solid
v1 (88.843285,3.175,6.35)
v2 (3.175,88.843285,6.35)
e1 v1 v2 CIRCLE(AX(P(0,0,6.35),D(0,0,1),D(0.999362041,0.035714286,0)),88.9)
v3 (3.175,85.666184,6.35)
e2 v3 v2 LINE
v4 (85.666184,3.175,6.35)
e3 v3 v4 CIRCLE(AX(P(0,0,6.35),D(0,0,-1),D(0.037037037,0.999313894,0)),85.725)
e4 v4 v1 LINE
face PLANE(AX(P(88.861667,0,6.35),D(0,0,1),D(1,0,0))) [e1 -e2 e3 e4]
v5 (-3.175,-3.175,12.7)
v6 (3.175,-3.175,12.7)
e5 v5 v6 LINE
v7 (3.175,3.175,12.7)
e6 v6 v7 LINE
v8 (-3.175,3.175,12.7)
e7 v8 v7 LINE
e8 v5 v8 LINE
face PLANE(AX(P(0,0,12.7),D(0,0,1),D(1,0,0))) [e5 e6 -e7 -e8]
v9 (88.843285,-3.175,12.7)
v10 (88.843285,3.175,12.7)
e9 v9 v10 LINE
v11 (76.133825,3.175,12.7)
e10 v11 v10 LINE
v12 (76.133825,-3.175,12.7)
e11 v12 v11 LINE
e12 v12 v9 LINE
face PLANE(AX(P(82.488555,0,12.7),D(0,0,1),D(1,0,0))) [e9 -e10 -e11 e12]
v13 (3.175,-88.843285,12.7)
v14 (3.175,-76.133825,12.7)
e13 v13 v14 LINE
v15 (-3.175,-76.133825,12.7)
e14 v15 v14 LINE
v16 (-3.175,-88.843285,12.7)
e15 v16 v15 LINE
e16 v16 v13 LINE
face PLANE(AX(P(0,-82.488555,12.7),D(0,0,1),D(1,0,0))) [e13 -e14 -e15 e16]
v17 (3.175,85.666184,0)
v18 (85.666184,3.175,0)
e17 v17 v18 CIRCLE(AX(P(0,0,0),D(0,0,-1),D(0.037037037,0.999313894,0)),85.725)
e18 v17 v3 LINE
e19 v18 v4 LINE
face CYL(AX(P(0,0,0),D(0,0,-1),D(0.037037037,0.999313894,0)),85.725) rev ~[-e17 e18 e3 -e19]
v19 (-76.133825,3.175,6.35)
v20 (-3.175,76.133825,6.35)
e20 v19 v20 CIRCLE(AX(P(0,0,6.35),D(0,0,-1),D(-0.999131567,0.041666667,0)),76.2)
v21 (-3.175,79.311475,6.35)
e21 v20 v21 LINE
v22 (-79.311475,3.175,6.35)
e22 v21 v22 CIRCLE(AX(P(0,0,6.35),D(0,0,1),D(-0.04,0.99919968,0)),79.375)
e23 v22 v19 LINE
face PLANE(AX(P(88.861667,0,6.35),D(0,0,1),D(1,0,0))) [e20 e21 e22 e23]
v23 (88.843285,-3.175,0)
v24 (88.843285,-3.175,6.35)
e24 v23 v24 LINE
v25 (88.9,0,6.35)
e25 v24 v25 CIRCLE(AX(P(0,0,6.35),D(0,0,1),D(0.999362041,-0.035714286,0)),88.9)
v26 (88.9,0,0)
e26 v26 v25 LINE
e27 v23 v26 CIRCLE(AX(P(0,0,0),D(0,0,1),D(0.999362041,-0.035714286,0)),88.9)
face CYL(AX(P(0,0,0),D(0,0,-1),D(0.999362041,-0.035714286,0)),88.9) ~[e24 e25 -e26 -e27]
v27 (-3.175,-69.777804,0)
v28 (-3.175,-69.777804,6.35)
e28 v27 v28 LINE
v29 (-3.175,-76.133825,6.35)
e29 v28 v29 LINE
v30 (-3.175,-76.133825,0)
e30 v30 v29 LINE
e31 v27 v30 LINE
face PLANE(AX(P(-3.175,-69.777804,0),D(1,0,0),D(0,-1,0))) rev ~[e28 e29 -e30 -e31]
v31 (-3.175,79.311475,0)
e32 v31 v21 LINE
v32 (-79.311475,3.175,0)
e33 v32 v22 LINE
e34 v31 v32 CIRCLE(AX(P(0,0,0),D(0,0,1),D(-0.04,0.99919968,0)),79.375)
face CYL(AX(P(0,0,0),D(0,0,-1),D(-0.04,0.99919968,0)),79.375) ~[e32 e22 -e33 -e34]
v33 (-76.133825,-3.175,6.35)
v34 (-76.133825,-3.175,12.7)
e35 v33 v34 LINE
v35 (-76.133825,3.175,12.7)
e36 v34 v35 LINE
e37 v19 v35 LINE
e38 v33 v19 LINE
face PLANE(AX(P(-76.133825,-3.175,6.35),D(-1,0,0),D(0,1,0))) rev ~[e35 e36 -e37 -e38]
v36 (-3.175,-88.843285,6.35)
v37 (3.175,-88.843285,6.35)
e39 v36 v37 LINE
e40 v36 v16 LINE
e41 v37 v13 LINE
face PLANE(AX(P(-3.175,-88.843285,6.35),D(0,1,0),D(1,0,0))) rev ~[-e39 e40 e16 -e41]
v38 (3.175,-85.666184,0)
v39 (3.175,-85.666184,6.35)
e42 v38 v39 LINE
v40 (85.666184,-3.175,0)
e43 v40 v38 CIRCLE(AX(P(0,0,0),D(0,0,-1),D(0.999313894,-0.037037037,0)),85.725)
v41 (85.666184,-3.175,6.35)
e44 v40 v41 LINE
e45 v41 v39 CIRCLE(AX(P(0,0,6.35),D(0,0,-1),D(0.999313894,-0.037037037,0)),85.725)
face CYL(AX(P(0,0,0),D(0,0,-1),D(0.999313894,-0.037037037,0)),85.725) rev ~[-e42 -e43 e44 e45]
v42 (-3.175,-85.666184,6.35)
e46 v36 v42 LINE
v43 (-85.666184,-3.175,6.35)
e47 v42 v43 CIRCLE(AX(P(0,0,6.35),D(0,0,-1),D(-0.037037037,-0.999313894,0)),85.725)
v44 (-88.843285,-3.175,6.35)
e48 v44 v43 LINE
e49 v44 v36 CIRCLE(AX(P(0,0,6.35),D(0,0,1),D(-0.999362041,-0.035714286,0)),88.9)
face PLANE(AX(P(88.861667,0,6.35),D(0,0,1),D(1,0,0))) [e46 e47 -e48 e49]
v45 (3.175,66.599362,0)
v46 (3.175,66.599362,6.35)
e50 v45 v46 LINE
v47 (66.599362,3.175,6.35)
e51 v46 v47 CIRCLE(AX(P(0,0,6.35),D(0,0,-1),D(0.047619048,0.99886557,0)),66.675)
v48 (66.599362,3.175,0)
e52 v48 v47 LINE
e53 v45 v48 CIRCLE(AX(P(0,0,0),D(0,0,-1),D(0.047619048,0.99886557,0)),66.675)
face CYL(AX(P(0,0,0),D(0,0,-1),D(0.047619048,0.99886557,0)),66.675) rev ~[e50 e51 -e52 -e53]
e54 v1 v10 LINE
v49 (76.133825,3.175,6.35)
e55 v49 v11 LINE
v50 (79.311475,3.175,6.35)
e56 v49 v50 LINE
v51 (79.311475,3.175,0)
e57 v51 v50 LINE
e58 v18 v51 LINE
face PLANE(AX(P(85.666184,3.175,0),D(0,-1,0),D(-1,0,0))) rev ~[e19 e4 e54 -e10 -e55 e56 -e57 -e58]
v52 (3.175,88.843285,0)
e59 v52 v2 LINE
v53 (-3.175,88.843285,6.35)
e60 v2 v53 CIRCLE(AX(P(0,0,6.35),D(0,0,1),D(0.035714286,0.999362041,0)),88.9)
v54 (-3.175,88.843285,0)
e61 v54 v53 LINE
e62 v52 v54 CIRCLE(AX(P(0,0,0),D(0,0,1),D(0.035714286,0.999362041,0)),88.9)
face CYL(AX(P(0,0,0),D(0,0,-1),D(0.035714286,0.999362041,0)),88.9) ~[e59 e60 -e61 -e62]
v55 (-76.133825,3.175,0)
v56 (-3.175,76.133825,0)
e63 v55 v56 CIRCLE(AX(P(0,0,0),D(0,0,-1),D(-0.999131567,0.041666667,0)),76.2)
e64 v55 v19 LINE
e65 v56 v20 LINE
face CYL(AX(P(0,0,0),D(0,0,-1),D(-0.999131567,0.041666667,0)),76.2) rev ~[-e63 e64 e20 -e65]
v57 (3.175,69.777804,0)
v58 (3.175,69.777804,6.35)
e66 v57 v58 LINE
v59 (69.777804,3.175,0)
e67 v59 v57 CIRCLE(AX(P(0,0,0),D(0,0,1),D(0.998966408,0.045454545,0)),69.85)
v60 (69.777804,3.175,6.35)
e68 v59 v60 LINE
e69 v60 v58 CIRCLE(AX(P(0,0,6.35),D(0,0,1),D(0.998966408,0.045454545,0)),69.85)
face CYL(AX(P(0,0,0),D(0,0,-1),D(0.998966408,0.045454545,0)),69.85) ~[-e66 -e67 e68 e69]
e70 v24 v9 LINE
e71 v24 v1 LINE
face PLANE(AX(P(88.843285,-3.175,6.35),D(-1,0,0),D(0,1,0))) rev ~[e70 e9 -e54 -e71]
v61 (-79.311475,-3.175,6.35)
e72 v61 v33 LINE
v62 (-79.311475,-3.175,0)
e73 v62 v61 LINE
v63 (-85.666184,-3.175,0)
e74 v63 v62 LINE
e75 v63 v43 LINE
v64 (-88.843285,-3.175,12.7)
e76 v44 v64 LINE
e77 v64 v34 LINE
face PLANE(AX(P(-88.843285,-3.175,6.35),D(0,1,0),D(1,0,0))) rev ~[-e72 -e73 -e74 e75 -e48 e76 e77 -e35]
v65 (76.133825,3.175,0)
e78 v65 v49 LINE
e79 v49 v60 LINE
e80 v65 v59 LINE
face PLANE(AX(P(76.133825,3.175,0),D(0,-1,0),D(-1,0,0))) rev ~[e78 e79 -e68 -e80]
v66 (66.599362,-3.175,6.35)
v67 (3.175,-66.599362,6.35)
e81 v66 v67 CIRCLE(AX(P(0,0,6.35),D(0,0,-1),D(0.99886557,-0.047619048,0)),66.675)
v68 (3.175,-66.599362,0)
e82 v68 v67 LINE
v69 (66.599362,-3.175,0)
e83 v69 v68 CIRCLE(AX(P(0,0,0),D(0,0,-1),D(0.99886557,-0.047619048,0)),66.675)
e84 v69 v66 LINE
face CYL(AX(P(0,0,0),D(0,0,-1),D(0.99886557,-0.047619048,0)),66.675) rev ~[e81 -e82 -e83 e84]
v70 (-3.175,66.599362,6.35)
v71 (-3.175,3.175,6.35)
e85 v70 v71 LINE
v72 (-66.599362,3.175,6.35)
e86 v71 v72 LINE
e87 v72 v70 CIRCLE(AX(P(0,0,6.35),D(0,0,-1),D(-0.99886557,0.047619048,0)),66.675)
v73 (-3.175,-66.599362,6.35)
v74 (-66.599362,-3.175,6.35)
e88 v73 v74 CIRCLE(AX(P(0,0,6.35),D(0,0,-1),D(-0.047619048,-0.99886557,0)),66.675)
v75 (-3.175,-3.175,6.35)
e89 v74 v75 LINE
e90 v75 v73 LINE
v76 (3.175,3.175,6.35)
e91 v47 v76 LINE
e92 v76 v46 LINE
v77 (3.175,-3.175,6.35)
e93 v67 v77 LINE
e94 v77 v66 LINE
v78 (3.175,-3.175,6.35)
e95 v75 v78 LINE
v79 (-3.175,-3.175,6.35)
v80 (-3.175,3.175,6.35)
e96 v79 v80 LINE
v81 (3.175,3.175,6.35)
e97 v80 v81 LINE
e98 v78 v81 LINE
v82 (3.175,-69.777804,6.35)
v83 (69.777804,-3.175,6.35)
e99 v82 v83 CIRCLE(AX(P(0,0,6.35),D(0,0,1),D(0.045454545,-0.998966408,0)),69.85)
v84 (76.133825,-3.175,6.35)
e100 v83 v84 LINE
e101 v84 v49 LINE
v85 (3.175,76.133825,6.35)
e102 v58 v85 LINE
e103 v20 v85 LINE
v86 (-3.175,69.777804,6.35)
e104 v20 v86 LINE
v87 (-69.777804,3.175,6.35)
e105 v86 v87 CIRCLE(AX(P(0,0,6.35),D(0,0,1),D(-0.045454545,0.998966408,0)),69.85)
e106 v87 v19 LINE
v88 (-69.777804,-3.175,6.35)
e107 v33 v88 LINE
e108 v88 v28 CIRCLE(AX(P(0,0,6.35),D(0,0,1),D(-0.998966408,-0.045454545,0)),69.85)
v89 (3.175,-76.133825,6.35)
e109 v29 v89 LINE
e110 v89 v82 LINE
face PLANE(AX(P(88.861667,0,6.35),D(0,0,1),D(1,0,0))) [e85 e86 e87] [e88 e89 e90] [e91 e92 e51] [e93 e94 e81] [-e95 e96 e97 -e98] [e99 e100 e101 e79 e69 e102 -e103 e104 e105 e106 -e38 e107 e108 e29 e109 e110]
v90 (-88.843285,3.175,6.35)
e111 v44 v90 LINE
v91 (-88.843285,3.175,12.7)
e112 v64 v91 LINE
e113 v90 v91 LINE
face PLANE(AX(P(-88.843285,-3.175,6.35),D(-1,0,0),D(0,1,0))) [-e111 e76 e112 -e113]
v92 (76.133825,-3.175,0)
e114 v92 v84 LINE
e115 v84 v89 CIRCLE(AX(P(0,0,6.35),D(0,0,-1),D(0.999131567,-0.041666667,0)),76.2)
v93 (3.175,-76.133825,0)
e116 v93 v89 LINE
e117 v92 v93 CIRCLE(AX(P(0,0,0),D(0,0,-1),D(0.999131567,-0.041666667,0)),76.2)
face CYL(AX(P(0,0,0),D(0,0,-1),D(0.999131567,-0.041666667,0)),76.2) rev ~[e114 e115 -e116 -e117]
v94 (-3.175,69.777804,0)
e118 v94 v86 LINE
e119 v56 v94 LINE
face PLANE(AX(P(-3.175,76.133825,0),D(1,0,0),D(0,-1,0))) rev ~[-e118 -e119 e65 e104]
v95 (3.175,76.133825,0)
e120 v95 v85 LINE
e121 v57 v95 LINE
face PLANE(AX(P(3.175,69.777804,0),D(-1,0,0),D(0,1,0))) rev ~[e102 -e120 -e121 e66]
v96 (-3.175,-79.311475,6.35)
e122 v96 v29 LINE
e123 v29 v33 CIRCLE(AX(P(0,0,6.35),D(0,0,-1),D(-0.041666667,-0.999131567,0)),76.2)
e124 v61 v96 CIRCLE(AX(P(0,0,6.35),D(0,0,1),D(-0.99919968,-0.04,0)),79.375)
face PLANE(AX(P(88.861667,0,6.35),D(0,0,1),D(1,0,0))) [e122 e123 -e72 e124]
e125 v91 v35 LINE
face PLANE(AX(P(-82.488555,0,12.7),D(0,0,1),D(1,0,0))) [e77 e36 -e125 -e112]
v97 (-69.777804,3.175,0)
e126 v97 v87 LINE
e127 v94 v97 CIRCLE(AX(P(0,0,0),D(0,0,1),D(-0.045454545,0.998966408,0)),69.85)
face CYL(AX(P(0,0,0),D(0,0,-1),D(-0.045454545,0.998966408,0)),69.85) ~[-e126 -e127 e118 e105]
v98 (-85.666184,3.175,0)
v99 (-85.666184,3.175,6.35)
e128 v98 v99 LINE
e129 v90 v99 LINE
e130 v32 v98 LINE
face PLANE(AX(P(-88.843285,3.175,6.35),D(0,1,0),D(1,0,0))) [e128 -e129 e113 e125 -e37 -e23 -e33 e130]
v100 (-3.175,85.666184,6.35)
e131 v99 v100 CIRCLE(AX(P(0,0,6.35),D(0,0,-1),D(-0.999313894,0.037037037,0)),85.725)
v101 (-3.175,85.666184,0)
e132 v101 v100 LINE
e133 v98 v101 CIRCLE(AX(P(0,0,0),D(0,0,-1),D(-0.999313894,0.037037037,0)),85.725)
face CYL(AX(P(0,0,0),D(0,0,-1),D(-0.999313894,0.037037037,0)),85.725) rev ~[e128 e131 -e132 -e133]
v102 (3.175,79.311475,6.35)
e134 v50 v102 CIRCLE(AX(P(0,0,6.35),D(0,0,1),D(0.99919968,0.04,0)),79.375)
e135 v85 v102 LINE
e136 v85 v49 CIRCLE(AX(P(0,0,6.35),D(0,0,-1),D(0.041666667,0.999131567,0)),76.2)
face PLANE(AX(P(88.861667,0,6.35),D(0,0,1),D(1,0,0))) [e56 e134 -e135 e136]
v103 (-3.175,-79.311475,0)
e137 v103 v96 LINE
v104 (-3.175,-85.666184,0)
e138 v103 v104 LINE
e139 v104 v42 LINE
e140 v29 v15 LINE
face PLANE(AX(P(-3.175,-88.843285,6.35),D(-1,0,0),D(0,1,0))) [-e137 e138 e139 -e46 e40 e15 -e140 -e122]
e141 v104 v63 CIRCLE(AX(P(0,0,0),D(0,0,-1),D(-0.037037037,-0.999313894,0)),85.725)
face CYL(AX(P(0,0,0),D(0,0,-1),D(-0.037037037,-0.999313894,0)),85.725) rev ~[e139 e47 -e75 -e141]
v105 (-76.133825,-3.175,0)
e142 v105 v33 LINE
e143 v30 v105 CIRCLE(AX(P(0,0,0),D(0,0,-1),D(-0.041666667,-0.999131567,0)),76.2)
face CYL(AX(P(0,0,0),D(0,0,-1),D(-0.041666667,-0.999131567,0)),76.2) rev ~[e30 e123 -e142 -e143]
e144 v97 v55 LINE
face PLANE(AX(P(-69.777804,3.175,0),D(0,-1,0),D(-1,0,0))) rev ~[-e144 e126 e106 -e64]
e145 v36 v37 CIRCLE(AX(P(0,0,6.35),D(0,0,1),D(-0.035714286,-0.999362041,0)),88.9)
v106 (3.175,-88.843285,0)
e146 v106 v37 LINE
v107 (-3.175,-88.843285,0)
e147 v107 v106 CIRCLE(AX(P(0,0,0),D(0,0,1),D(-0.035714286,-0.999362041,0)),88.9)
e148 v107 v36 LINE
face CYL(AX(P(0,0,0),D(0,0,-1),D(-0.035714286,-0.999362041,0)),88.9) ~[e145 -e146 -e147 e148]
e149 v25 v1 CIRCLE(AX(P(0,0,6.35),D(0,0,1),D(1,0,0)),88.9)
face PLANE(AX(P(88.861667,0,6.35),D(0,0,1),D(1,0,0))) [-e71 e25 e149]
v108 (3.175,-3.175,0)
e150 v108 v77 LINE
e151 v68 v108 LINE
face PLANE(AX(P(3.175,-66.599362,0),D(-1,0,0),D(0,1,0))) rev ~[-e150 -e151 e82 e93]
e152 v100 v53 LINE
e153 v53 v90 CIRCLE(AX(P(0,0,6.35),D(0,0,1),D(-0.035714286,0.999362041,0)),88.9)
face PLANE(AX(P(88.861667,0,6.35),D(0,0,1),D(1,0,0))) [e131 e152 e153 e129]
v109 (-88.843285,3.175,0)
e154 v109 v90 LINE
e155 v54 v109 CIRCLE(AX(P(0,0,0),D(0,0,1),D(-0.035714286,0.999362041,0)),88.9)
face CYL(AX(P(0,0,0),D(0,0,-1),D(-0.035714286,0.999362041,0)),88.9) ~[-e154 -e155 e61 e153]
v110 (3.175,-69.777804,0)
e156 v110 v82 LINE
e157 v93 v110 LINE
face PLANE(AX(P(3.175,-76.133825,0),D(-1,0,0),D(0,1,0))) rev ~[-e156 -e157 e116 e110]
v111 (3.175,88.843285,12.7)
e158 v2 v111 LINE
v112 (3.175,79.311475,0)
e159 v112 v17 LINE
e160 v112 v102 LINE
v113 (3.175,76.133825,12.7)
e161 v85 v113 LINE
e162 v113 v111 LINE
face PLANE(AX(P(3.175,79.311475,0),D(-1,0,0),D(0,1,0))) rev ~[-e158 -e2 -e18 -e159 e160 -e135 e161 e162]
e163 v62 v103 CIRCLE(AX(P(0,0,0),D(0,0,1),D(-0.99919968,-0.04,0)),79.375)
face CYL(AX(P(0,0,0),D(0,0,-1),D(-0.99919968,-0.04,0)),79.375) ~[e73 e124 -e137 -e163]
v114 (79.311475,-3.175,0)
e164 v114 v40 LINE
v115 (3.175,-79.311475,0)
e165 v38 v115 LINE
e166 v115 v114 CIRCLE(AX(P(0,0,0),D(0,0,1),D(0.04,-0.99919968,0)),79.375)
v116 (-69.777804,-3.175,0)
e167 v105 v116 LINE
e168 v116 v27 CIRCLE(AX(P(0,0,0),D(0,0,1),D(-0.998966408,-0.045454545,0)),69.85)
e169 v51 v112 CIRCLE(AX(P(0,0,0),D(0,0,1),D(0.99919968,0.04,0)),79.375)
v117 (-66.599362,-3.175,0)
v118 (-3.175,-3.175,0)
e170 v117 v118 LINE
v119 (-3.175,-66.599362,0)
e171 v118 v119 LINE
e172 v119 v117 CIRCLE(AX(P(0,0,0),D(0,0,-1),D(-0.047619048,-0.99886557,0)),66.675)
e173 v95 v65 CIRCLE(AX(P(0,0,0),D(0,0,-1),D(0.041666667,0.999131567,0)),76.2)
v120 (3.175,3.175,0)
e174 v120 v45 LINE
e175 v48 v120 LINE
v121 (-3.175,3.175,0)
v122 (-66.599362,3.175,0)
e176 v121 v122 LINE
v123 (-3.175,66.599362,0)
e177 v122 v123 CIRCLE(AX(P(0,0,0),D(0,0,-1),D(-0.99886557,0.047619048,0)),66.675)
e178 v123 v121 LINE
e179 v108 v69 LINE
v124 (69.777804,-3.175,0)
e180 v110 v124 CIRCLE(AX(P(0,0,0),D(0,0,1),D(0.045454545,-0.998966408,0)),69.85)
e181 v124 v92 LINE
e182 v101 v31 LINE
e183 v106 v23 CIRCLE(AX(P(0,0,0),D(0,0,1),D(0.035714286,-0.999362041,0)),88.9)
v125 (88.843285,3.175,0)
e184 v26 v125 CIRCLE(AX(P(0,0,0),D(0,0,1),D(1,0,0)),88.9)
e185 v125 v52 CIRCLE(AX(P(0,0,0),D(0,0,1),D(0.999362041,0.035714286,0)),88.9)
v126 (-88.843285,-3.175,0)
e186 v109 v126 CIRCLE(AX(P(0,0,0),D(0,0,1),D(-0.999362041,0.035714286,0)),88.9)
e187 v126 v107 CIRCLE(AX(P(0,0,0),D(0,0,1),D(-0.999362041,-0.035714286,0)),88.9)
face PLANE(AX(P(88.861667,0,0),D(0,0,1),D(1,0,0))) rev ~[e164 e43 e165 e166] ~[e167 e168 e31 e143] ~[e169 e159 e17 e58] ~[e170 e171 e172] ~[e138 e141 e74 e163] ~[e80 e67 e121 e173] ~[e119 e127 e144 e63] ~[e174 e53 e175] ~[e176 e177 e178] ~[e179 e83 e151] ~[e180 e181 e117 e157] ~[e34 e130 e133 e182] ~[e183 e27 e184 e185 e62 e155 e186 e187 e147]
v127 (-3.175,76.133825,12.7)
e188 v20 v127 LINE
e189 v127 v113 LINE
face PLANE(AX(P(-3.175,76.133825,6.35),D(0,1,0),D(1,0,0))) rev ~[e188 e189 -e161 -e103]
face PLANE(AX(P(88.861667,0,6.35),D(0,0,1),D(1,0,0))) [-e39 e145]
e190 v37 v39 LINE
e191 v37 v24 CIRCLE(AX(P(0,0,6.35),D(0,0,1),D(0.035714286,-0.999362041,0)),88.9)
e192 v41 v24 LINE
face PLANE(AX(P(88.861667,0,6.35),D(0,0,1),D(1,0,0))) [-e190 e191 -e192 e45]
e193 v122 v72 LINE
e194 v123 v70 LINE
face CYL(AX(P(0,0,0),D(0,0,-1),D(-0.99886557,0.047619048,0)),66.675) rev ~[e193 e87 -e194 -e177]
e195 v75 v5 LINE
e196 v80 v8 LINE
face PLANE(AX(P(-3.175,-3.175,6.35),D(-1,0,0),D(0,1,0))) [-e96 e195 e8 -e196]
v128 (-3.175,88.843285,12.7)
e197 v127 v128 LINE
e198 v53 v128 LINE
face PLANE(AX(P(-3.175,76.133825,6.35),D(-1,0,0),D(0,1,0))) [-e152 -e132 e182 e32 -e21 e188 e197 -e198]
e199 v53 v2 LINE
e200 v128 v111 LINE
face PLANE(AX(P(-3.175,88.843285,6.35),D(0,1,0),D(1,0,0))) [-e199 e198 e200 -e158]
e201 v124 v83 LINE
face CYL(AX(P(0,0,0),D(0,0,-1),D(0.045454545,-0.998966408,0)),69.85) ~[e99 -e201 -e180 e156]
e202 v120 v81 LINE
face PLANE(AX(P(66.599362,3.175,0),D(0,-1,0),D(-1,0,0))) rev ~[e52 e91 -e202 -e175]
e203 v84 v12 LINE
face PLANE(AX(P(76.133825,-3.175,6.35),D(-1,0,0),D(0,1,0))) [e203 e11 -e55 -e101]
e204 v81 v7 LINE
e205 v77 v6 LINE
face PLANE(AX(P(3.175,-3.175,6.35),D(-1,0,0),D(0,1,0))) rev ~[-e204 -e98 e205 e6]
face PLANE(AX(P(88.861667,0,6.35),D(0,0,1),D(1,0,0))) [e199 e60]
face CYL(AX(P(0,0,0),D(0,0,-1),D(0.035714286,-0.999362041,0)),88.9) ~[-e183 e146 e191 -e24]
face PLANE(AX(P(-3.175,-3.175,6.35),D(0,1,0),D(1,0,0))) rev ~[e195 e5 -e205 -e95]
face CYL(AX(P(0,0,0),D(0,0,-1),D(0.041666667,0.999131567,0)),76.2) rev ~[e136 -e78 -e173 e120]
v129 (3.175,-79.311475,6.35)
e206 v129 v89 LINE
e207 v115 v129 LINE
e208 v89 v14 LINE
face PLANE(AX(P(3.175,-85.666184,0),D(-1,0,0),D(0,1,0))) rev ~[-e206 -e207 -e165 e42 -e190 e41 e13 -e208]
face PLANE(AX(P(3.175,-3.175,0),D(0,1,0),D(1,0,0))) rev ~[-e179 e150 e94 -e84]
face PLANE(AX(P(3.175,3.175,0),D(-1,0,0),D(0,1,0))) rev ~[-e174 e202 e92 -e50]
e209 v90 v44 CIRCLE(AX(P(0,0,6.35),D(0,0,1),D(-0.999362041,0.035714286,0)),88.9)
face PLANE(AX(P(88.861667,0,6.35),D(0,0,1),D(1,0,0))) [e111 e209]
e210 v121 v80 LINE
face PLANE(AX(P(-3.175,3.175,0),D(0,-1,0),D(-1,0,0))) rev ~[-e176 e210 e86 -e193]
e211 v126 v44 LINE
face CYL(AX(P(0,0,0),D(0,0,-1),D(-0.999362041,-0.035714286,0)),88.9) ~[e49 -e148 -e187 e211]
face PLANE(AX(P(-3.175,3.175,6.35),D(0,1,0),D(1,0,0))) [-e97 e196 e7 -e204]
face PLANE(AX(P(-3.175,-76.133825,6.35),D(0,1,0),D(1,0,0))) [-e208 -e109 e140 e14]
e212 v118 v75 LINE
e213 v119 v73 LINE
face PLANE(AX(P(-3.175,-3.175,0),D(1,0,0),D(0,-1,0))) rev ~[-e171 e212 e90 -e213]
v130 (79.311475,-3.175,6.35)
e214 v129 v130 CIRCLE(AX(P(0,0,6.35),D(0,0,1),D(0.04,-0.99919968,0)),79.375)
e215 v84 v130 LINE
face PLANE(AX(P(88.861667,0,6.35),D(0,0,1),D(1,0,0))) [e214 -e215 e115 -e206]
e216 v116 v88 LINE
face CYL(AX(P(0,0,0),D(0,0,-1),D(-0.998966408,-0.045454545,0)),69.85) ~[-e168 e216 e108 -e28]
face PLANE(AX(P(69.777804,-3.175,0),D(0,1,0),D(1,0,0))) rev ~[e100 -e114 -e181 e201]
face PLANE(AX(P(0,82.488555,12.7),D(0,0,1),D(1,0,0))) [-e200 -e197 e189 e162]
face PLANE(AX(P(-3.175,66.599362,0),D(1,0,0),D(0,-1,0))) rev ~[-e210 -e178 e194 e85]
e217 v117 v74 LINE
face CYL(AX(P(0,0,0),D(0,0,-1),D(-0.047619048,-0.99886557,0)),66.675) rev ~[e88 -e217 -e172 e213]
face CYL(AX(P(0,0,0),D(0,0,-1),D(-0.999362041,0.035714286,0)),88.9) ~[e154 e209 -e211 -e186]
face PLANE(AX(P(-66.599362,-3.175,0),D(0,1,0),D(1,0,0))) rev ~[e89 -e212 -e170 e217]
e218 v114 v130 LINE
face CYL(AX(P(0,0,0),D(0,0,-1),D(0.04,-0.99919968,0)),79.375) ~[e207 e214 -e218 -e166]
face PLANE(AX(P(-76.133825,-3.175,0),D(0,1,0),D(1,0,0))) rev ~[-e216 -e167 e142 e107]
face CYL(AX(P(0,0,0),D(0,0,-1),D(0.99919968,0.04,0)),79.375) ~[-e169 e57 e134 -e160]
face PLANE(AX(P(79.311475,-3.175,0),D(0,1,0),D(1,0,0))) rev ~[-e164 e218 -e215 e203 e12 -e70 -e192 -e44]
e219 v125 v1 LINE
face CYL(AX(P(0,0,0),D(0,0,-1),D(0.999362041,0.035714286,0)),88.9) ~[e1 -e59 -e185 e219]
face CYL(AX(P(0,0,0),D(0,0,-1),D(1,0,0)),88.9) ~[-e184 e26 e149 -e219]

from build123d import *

# Parameters (mm, degrees)
F0_W     = 6.35
F0_H     = 6.35
F1_DEPTH = 6.35
F2_W     = 12.7094600481
F2_H     = 6.35
F2_W_2   = 6.35
F2_H_2   = 12.7094600481
F3_DEPTH = 6.35


with BuildPart() as f1:
    # F0 (on Top) → F1 (new body)
    with BuildSketch(Plane.XY):
        with BuildLine():
            ThreePointArc((88.8432854807, -3.175), (88.8858202393, -1.5877532504), (88.9, 0))
            ThreePointArc((88.9, 0), (88.8858202393, 1.5877532504), (88.8432854807, 3.175))
            Line((88.8432854807, 3.175), (88.8432854807, -3.175))
        make_face()
        with BuildLine():
            Line((85.6661835265, 3.175), (88.8432854807, 3.175))
            ThreePointArc((88.8432854807, 3.175), (62.8617928475, 62.8617928475), (3.175, 88.8432854807))
            Line((3.175, 88.8432854807), (3.175, 85.6661835265))
            ThreePointArc((3.175, 85.6661835265), (60.6167288172, 60.6167288172), (85.6661835265, 3.175))
        make_face()
        with BuildLine():
            Line((88.8432854807, -3.175), (88.8432854807, 3.175))
            Line((88.8432854807, 3.175), (85.6661835265, 3.175))
            ThreePointArc((85.6661835265, 3.175), (85.7102946203, 1.5877723686), (85.725, 0))
            ThreePointArc((85.725, 0), (85.7102946203, -1.5877723686), (85.6661835265, -3.175))
            Line((85.6661835265, -3.175), (88.8432854807, -3.175))
        make_face()
        with BuildLine():
            ThreePointArc((3.175, -88.8432854807), (62.8617928475, -62.8617928475), (88.8432854807, -3.175))
            Line((88.8432854807, -3.175), (85.6661835265, -3.175))
            ThreePointArc((85.6661835265, -3.175), (60.6167288172, -60.6167288172), (3.175, -85.6661835265))
            Line((3.175, -85.6661835265), (3.175, -88.8432854807))
        make_face()
        with BuildLine():
            Line((-3.175, 88.8432854807), (3.175, 88.8432854807))
            ThreePointArc((3.175, 88.8432854807), (0, 88.9), (-3.175, 88.8432854807))
        make_face()
        with BuildLine():
            Line((3.175, 85.6661835265), (3.175, 88.8432854807))
            Line((3.175, 88.8432854807), (-3.175, 88.8432854807))
            Line((-3.175, 88.8432854807), (-3.175, 85.6661835265))
            ThreePointArc((-3.175, 85.6661835265), (0, 85.725), (3.175, 85.6661835265))
        make_face()
        with BuildLine():
            ThreePointArc((-3.175, -88.8432854807), (0, -88.9), (3.175, -88.8432854807))
            Line((3.175, -88.8432854807), (-3.175, -88.8432854807))
        make_face()
        with BuildLine():
            Line((-3.175, -88.8432854807), (3.175, -88.8432854807))
            Line((3.175, -88.8432854807), (3.175, -85.6661835265))
            ThreePointArc((3.175, -85.6661835265), (0, -85.725), (-3.175, -85.6661835265))
            Line((-3.175, -85.6661835265), (-3.175, -88.8432854807))
        make_face()
        with BuildLine():
            Line((-3.175, 85.6661835265), (-3.175, 88.8432854807))
            ThreePointArc((-3.175, 88.8432854807), (-62.8617928475, 62.8617928475), (-88.8432854807, 3.175))
            Line((-88.8432854807, 3.175), (-85.6661835265, 3.175))
            ThreePointArc((-85.6661835265, 3.175), (-60.6167288172, 60.6167288172), (-3.175, 85.6661835265))
        make_face()
        with BuildLine():
            ThreePointArc((-88.8432854807, -3.175), (-62.8617928475, -62.8617928475), (-3.175, -88.8432854807))
            Line((-3.175, -88.8432854807), (-3.175, -85.6661835265))
            ThreePointArc((-3.175, -85.6661835265), (-60.6167288172, -60.6167288172), (-85.6661835265, -3.175))
            Line((-85.6661835265, -3.175), (-88.8432854807, -3.175))
        make_face()
        with BuildLine():
            Line((-88.8432854807, -3.175), (-88.8432854807, 3.175))
            ThreePointArc((-88.8432854807, 3.175), (-88.9, 0), (-88.8432854807, -3.175))
        make_face()
        with BuildLine():
            Line((-85.6661835265, 3.175), (-88.8432854807, 3.175))
            Line((-88.8432854807, 3.175), (-88.8432854807, -3.175))
            Line((-88.8432854807, -3.175), (-85.6661835265, -3.175))
            ThreePointArc((-85.6661835265, -3.175), (-85.725, 0), (-85.6661835265, 3.175))
        make_face()
        with BuildLine():
            Line((-3.175, 76.1338254326), (-3.175, 79.3114745797))
            ThreePointArc((-3.175, 79.3114745797), (-56.1266007567, 56.1266007567), (-79.3114745797, 3.175))
            Line((-79.3114745797, 3.175), (-76.1338254326, 3.175))
            ThreePointArc((-76.1338254326, 3.175), (-53.8815367264, 53.8815367264), (-3.175, 76.1338254326))
        make_face()
        with BuildLine():
            ThreePointArc((-79.3114745797, -3.175), (-56.1266007567, -56.1266007567), (-3.175, -79.3114745797))
            Line((-3.175, -79.3114745797), (-3.175, -76.1338254326))
            ThreePointArc((-3.175, -76.1338254326), (-53.8815367264, -53.8815367264), (-76.1338254326, -3.175))
            Line((-76.1338254326, -3.175), (-79.3114745797, -3.175))
        make_face()
        with BuildLine():
            Line((-76.1338254326, 3.175), (-79.3114745797, 3.175))
            ThreePointArc((-79.3114745797, 3.175), (-79.375, 0), (-79.3114745797, -3.175))
            Line((-79.3114745797, -3.175), (-76.1338254326, -3.175))
            ThreePointArc((-76.1338254326, -3.175), (-76.2, 0), (-76.1338254326, 3.175))
        make_face()
        with BuildLine():
            Line((-79.3114745797, 3.175), (-85.6661835265, 3.175))
            ThreePointArc((-85.6661835265, 3.175), (-85.725, 0), (-85.6661835265, -3.175))
            Line((-85.6661835265, -3.175), (-79.3114745797, -3.175))
            ThreePointArc((-79.3114745797, -3.175), (-79.375, 0), (-79.3114745797, 3.175))
        make_face()
        with BuildLine():
            Line((-66.5993618588, 3.175), (-69.7778035983, 3.175))
            ThreePointArc((-69.7778035983, 3.175), (-69.85, 0), (-69.7778035983, -3.175))
            Line((-69.7778035983, -3.175), (-66.5993618588, -3.175))
            ThreePointArc((-66.5993618588, -3.175), (-66.675, 0), (-66.5993618588, 3.175))
        make_face()
        with BuildLine():
            Line((-3.175, 66.5993618588), (-3.175, 69.7778035983))
            ThreePointArc((-3.175, 69.7778035983), (-49.3914086659, 49.3914086659), (-69.7778035983, 3.175))
            Line((-69.7778035983, 3.175), (-66.5993618588, 3.175))
            ThreePointArc((-66.5993618588, 3.175), (-47.1463446356, 47.1463446356), (-3.175, 66.5993618588))
        make_face()
        with BuildLine():
            ThreePointArc((-69.7778035983, -3.175), (-49.3914086659, -49.3914086659), (-3.175, -69.7778035983))
            Line((-3.175, -69.7778035983), (-3.175, -66.5993618588))
            ThreePointArc((-3.175, -66.5993618588), (-47.1463446356, -47.1463446356), (-66.5993618588, -3.175))
            Line((-66.5993618588, -3.175), (-69.7778035983, -3.175))
        make_face()
        with BuildLine():
            ThreePointArc((-3.175, -69.7778035983), (0, -69.85), (3.175, -69.7778035983))
            Line((3.175, -69.7778035983), (3.175, -66.5993618588))
            ThreePointArc((3.175, -66.5993618588), (0, -66.675), (-3.175, -66.5993618588))
            Line((-3.175, -66.5993618588), (-3.175, -69.7778035983))
        make_face()
        with BuildLine():
            ThreePointArc((-3.175, -79.3114745797), (0, -79.375), (3.175, -79.3114745797))
            Line((3.175, -79.3114745797), (3.175, -76.1338254326))
            ThreePointArc((3.175, -76.1338254326), (0, -76.2), (-3.175, -76.1338254326))
            Line((-3.175, -76.1338254326), (-3.175, -79.3114745797))
        make_face()
        with BuildLine():
            ThreePointArc((3.175, -79.3114745797), (56.1266007567, -56.1266007567), (79.3114745797, -3.175))
            Line((79.3114745797, -3.175), (76.1338254326, -3.175))
            ThreePointArc((76.1338254326, -3.175), (53.8815367264, -53.8815367264), (3.175, -76.1338254326))
            Line((3.175, -76.1338254326), (3.175, -79.3114745797))
        make_face()
        with BuildLine():
            ThreePointArc((3.175, -69.7778035983), (49.3914086659, -49.3914086659), (69.7778035983, -3.175))
            Line((69.7778035983, -3.175), (66.5993618588, -3.175))
            ThreePointArc((66.5993618588, -3.175), (47.1463446356, -47.1463446356), (3.175, -66.5993618588))
            Line((3.175, -66.5993618588), (3.175, -69.7778035983))
        make_face()
        with BuildLine():
            ThreePointArc((69.85, 0), (69.831948567, 1.5879103659), (69.7778035983, 3.175))
            Line((69.7778035983, 3.175), (66.5993618588, 3.175))
            ThreePointArc((66.5993618588, 3.175), (66.6560877825, 1.5879504187), (66.675, 0))
            ThreePointArc((66.675, 0), (66.6560877825, -1.5879504187), (66.5993618588, -3.175))
            Line((66.5993618588, -3.175), (69.7778035983, -3.175))
            ThreePointArc((69.7778035983, -3.175), (69.831948567, -1.5879103659), (69.85, 0))
        make_face()
        with BuildLine():
            Line((76.1338254326, 3.175), (79.3114745797, 3.175))
            ThreePointArc((79.3114745797, 3.175), (56.1266007567, 56.1266007567), (3.175, 79.3114745797))
            Line((3.175, 79.3114745797), (3.175, 76.1338254326))
            ThreePointArc((3.175, 76.1338254326), (53.8815367264, 53.8815367264), (76.1338254326, 3.175))
        make_face()
        with BuildLine():
            Line((66.5993618588, 3.175), (69.7778035983, 3.175))
            ThreePointArc((69.7778035983, 3.175), (49.3914086659, 49.3914086659), (3.175, 69.7778035983))
            Line((3.175, 69.7778035983), (3.175, 66.5993618588))
            ThreePointArc((3.175, 66.5993618588), (47.1463446356, 47.1463446356), (66.5993618588, 3.175))
        make_face()
        with BuildLine():
            Line((3.175, 76.1338254326), (3.175, 79.3114745797))
            ThreePointArc((3.175, 79.3114745797), (0, 79.375), (-3.175, 79.3114745797))
            Line((-3.175, 79.3114745797), (-3.175, 76.1338254326))
            ThreePointArc((-3.175, 76.1338254326), (0, 76.2), (3.175, 76.1338254326))
        make_face()
        with BuildLine():
            Line((3.175, 66.5993618588), (3.175, 69.7778035983))
            ThreePointArc((3.175, 69.7778035983), (0, 69.85), (-3.175, 69.7778035983))
            Line((-3.175, 69.7778035983), (-3.175, 66.5993618588))
            ThreePointArc((-3.175, 66.5993618588), (0, 66.675), (3.175, 66.5993618588))
        make_face()
        with BuildLine():
            Line((-3.175, -3.175), (-3.175, 3.175))
            Line((-3.175, 3.175), (-66.5993618588, 3.175))
            ThreePointArc((-66.5993618588, 3.175), (-66.675, 0), (-66.5993618588, -3.175))
            Line((-66.5993618588, -3.175), (-3.175, -3.175))
        make_face()
        with BuildLine():
            Line((3.175, 3.175), (3.175, 66.5993618588))
            ThreePointArc((3.175, 66.5993618588), (0, 66.675), (-3.175, 66.5993618588))
            Line((-3.175, 66.5993618588), (-3.175, 3.175))
            Line((-3.175, 3.175), (3.175, 3.175))
        make_face()
        with BuildLine():
            ThreePointArc((66.675, 0), (66.6560877825, 1.5879504187), (66.5993618588, 3.175))
            Line((66.5993618588, 3.175), (3.175, 3.175))
            Line((3.175, 3.175), (3.175, -3.175))
            Line((3.175, -3.175), (66.5993618588, -3.175))
            ThreePointArc((66.5993618588, -3.175), (66.6560877825, -1.5879504187), (66.675, 0))
        make_face()
        with BuildLine():
            ThreePointArc((-3.175, -66.5993618588), (0, -66.675), (3.175, -66.5993618588))
            Line((3.175, -66.5993618588), (3.175, -3.175))
            Line((3.175, -3.175), (-3.175, -3.175))
            Line((-3.175, -3.175), (-3.175, -66.5993618588))
        make_face()
        Rectangle(F0_W, F0_H)
        with BuildLine():
            ThreePointArc((-3.175, -76.1338254326), (0, -76.2), (3.175, -76.1338254326))
            Line((3.175, -76.1338254326), (3.175, -69.7778035983))
            ThreePointArc((3.175, -69.7778035983), (0, -69.85), (-3.175, -69.7778035983))
            Line((-3.175, -69.7778035983), (-3.175, -76.1338254326))
        make_face()
        with BuildLine():
            ThreePointArc((-3.175, -85.6661835265), (0, -85.725), (3.175, -85.6661835265))
            Line((3.175, -85.6661835265), (3.175, -79.3114745797))
            ThreePointArc((3.175, -79.3114745797), (0, -79.375), (-3.175, -79.3114745797))
            Line((-3.175, -79.3114745797), (-3.175, -85.6661835265))
        make_face()
        with BuildLine():
            Line((3.175, 69.7778035983), (3.175, 76.1338254326))
            ThreePointArc((3.175, 76.1338254326), (0, 76.2), (-3.175, 76.1338254326))
            Line((-3.175, 76.1338254326), (-3.175, 69.7778035983))
            ThreePointArc((-3.175, 69.7778035983), (0, 69.85), (3.175, 69.7778035983))
        make_face()
        with BuildLine():
            Line((3.175, 79.3114745797), (3.175, 85.6661835265))
            ThreePointArc((3.175, 85.6661835265), (0, 85.725), (-3.175, 85.6661835265))
            Line((-3.175, 85.6661835265), (-3.175, 79.3114745797))
            ThreePointArc((-3.175, 79.3114745797), (0, 79.375), (3.175, 79.3114745797))
        make_face()
        with BuildLine():
            Line((-69.7778035983, 3.175), (-76.1338254326, 3.175))
            ThreePointArc((-76.1338254326, 3.175), (-76.2, 0), (-76.1338254326, -3.175))
            Line((-76.1338254326, -3.175), (-69.7778035983, -3.175))
            ThreePointArc((-69.7778035983, -3.175), (-69.85, 0), (-69.7778035983, 3.175))
        make_face()
        with BuildLine():
            ThreePointArc((76.2, 0), (76.1834545619, 1.5878447715), (76.1338254326, 3.175))
            Line((76.1338254326, 3.175), (69.7778035983, 3.175))
            ThreePointArc((69.7778035983, 3.175), (69.831948567, 1.5879103659), (69.85, 0))
            ThreePointArc((69.85, 0), (69.831948567, -1.5879103659), (69.7778035983, -3.175))
            Line((69.7778035983, -3.175), (76.1338254326, -3.175))
            ThreePointArc((76.1338254326, -3.175), (76.1834545619, -1.5878447715), (76.2, 0))
        make_face()
        with BuildLine():
            ThreePointArc((79.375, 0), (79.3591170558, 1.5878177225), (79.3114745797, 3.175))
            Line((79.3114745797, 3.175), (76.1338254326, 3.175))
            ThreePointArc((76.1338254326, 3.175), (76.1834545619, 1.5878447715), (76.2, 0))
            ThreePointArc((76.2, 0), (76.1834545619, -1.5878447715), (76.1338254326, -3.175))
            Line((76.1338254326, -3.175), (79.3114745797, -3.175))
            ThreePointArc((79.3114745797, -3.175), (79.3591170558, -1.5878177225), (79.375, 0))
        make_face()
        with BuildLine():
            ThreePointArc((85.725, 0), (85.7102946203, 1.5877723686), (85.6661835265, 3.175))
            Line((85.6661835265, 3.175), (79.3114745797, 3.175))
            ThreePointArc((79.3114745797, 3.175), (79.3591170558, 1.5878177225), (79.375, 0))
            ThreePointArc((79.375, 0), (79.3591170558, -1.5878177225), (79.3114745797, -3.175))
            Line((79.3114745797, -3.175), (85.6661835265, -3.175))
            ThreePointArc((85.6661835265, -3.175), (85.7102946203, -1.5877723686), (85.725, 0))
        make_face()
    extrude(amount=F1_DEPTH)

    # F2 (on face) → F3 (join)
    with BuildSketch(Plane.XY.offset(6.35)):
        with Locations((-82.4885554566, 0)):
            Rectangle(F2_W, F2_H)
        with Locations((82.4885554566, 0)):
            Rectangle(F2_W, F2_H)
        with Locations((0, 82.4885554566)):
            Rectangle(F2_W_2, F2_H_2)
        with Locations((0, -82.4885554566)):
            Rectangle(F2_W_2, F2_H_2)
        Rectangle(F2_W_2, F2_H)
    extrude(amount=F3_DEPTH)


solid = f1.part
